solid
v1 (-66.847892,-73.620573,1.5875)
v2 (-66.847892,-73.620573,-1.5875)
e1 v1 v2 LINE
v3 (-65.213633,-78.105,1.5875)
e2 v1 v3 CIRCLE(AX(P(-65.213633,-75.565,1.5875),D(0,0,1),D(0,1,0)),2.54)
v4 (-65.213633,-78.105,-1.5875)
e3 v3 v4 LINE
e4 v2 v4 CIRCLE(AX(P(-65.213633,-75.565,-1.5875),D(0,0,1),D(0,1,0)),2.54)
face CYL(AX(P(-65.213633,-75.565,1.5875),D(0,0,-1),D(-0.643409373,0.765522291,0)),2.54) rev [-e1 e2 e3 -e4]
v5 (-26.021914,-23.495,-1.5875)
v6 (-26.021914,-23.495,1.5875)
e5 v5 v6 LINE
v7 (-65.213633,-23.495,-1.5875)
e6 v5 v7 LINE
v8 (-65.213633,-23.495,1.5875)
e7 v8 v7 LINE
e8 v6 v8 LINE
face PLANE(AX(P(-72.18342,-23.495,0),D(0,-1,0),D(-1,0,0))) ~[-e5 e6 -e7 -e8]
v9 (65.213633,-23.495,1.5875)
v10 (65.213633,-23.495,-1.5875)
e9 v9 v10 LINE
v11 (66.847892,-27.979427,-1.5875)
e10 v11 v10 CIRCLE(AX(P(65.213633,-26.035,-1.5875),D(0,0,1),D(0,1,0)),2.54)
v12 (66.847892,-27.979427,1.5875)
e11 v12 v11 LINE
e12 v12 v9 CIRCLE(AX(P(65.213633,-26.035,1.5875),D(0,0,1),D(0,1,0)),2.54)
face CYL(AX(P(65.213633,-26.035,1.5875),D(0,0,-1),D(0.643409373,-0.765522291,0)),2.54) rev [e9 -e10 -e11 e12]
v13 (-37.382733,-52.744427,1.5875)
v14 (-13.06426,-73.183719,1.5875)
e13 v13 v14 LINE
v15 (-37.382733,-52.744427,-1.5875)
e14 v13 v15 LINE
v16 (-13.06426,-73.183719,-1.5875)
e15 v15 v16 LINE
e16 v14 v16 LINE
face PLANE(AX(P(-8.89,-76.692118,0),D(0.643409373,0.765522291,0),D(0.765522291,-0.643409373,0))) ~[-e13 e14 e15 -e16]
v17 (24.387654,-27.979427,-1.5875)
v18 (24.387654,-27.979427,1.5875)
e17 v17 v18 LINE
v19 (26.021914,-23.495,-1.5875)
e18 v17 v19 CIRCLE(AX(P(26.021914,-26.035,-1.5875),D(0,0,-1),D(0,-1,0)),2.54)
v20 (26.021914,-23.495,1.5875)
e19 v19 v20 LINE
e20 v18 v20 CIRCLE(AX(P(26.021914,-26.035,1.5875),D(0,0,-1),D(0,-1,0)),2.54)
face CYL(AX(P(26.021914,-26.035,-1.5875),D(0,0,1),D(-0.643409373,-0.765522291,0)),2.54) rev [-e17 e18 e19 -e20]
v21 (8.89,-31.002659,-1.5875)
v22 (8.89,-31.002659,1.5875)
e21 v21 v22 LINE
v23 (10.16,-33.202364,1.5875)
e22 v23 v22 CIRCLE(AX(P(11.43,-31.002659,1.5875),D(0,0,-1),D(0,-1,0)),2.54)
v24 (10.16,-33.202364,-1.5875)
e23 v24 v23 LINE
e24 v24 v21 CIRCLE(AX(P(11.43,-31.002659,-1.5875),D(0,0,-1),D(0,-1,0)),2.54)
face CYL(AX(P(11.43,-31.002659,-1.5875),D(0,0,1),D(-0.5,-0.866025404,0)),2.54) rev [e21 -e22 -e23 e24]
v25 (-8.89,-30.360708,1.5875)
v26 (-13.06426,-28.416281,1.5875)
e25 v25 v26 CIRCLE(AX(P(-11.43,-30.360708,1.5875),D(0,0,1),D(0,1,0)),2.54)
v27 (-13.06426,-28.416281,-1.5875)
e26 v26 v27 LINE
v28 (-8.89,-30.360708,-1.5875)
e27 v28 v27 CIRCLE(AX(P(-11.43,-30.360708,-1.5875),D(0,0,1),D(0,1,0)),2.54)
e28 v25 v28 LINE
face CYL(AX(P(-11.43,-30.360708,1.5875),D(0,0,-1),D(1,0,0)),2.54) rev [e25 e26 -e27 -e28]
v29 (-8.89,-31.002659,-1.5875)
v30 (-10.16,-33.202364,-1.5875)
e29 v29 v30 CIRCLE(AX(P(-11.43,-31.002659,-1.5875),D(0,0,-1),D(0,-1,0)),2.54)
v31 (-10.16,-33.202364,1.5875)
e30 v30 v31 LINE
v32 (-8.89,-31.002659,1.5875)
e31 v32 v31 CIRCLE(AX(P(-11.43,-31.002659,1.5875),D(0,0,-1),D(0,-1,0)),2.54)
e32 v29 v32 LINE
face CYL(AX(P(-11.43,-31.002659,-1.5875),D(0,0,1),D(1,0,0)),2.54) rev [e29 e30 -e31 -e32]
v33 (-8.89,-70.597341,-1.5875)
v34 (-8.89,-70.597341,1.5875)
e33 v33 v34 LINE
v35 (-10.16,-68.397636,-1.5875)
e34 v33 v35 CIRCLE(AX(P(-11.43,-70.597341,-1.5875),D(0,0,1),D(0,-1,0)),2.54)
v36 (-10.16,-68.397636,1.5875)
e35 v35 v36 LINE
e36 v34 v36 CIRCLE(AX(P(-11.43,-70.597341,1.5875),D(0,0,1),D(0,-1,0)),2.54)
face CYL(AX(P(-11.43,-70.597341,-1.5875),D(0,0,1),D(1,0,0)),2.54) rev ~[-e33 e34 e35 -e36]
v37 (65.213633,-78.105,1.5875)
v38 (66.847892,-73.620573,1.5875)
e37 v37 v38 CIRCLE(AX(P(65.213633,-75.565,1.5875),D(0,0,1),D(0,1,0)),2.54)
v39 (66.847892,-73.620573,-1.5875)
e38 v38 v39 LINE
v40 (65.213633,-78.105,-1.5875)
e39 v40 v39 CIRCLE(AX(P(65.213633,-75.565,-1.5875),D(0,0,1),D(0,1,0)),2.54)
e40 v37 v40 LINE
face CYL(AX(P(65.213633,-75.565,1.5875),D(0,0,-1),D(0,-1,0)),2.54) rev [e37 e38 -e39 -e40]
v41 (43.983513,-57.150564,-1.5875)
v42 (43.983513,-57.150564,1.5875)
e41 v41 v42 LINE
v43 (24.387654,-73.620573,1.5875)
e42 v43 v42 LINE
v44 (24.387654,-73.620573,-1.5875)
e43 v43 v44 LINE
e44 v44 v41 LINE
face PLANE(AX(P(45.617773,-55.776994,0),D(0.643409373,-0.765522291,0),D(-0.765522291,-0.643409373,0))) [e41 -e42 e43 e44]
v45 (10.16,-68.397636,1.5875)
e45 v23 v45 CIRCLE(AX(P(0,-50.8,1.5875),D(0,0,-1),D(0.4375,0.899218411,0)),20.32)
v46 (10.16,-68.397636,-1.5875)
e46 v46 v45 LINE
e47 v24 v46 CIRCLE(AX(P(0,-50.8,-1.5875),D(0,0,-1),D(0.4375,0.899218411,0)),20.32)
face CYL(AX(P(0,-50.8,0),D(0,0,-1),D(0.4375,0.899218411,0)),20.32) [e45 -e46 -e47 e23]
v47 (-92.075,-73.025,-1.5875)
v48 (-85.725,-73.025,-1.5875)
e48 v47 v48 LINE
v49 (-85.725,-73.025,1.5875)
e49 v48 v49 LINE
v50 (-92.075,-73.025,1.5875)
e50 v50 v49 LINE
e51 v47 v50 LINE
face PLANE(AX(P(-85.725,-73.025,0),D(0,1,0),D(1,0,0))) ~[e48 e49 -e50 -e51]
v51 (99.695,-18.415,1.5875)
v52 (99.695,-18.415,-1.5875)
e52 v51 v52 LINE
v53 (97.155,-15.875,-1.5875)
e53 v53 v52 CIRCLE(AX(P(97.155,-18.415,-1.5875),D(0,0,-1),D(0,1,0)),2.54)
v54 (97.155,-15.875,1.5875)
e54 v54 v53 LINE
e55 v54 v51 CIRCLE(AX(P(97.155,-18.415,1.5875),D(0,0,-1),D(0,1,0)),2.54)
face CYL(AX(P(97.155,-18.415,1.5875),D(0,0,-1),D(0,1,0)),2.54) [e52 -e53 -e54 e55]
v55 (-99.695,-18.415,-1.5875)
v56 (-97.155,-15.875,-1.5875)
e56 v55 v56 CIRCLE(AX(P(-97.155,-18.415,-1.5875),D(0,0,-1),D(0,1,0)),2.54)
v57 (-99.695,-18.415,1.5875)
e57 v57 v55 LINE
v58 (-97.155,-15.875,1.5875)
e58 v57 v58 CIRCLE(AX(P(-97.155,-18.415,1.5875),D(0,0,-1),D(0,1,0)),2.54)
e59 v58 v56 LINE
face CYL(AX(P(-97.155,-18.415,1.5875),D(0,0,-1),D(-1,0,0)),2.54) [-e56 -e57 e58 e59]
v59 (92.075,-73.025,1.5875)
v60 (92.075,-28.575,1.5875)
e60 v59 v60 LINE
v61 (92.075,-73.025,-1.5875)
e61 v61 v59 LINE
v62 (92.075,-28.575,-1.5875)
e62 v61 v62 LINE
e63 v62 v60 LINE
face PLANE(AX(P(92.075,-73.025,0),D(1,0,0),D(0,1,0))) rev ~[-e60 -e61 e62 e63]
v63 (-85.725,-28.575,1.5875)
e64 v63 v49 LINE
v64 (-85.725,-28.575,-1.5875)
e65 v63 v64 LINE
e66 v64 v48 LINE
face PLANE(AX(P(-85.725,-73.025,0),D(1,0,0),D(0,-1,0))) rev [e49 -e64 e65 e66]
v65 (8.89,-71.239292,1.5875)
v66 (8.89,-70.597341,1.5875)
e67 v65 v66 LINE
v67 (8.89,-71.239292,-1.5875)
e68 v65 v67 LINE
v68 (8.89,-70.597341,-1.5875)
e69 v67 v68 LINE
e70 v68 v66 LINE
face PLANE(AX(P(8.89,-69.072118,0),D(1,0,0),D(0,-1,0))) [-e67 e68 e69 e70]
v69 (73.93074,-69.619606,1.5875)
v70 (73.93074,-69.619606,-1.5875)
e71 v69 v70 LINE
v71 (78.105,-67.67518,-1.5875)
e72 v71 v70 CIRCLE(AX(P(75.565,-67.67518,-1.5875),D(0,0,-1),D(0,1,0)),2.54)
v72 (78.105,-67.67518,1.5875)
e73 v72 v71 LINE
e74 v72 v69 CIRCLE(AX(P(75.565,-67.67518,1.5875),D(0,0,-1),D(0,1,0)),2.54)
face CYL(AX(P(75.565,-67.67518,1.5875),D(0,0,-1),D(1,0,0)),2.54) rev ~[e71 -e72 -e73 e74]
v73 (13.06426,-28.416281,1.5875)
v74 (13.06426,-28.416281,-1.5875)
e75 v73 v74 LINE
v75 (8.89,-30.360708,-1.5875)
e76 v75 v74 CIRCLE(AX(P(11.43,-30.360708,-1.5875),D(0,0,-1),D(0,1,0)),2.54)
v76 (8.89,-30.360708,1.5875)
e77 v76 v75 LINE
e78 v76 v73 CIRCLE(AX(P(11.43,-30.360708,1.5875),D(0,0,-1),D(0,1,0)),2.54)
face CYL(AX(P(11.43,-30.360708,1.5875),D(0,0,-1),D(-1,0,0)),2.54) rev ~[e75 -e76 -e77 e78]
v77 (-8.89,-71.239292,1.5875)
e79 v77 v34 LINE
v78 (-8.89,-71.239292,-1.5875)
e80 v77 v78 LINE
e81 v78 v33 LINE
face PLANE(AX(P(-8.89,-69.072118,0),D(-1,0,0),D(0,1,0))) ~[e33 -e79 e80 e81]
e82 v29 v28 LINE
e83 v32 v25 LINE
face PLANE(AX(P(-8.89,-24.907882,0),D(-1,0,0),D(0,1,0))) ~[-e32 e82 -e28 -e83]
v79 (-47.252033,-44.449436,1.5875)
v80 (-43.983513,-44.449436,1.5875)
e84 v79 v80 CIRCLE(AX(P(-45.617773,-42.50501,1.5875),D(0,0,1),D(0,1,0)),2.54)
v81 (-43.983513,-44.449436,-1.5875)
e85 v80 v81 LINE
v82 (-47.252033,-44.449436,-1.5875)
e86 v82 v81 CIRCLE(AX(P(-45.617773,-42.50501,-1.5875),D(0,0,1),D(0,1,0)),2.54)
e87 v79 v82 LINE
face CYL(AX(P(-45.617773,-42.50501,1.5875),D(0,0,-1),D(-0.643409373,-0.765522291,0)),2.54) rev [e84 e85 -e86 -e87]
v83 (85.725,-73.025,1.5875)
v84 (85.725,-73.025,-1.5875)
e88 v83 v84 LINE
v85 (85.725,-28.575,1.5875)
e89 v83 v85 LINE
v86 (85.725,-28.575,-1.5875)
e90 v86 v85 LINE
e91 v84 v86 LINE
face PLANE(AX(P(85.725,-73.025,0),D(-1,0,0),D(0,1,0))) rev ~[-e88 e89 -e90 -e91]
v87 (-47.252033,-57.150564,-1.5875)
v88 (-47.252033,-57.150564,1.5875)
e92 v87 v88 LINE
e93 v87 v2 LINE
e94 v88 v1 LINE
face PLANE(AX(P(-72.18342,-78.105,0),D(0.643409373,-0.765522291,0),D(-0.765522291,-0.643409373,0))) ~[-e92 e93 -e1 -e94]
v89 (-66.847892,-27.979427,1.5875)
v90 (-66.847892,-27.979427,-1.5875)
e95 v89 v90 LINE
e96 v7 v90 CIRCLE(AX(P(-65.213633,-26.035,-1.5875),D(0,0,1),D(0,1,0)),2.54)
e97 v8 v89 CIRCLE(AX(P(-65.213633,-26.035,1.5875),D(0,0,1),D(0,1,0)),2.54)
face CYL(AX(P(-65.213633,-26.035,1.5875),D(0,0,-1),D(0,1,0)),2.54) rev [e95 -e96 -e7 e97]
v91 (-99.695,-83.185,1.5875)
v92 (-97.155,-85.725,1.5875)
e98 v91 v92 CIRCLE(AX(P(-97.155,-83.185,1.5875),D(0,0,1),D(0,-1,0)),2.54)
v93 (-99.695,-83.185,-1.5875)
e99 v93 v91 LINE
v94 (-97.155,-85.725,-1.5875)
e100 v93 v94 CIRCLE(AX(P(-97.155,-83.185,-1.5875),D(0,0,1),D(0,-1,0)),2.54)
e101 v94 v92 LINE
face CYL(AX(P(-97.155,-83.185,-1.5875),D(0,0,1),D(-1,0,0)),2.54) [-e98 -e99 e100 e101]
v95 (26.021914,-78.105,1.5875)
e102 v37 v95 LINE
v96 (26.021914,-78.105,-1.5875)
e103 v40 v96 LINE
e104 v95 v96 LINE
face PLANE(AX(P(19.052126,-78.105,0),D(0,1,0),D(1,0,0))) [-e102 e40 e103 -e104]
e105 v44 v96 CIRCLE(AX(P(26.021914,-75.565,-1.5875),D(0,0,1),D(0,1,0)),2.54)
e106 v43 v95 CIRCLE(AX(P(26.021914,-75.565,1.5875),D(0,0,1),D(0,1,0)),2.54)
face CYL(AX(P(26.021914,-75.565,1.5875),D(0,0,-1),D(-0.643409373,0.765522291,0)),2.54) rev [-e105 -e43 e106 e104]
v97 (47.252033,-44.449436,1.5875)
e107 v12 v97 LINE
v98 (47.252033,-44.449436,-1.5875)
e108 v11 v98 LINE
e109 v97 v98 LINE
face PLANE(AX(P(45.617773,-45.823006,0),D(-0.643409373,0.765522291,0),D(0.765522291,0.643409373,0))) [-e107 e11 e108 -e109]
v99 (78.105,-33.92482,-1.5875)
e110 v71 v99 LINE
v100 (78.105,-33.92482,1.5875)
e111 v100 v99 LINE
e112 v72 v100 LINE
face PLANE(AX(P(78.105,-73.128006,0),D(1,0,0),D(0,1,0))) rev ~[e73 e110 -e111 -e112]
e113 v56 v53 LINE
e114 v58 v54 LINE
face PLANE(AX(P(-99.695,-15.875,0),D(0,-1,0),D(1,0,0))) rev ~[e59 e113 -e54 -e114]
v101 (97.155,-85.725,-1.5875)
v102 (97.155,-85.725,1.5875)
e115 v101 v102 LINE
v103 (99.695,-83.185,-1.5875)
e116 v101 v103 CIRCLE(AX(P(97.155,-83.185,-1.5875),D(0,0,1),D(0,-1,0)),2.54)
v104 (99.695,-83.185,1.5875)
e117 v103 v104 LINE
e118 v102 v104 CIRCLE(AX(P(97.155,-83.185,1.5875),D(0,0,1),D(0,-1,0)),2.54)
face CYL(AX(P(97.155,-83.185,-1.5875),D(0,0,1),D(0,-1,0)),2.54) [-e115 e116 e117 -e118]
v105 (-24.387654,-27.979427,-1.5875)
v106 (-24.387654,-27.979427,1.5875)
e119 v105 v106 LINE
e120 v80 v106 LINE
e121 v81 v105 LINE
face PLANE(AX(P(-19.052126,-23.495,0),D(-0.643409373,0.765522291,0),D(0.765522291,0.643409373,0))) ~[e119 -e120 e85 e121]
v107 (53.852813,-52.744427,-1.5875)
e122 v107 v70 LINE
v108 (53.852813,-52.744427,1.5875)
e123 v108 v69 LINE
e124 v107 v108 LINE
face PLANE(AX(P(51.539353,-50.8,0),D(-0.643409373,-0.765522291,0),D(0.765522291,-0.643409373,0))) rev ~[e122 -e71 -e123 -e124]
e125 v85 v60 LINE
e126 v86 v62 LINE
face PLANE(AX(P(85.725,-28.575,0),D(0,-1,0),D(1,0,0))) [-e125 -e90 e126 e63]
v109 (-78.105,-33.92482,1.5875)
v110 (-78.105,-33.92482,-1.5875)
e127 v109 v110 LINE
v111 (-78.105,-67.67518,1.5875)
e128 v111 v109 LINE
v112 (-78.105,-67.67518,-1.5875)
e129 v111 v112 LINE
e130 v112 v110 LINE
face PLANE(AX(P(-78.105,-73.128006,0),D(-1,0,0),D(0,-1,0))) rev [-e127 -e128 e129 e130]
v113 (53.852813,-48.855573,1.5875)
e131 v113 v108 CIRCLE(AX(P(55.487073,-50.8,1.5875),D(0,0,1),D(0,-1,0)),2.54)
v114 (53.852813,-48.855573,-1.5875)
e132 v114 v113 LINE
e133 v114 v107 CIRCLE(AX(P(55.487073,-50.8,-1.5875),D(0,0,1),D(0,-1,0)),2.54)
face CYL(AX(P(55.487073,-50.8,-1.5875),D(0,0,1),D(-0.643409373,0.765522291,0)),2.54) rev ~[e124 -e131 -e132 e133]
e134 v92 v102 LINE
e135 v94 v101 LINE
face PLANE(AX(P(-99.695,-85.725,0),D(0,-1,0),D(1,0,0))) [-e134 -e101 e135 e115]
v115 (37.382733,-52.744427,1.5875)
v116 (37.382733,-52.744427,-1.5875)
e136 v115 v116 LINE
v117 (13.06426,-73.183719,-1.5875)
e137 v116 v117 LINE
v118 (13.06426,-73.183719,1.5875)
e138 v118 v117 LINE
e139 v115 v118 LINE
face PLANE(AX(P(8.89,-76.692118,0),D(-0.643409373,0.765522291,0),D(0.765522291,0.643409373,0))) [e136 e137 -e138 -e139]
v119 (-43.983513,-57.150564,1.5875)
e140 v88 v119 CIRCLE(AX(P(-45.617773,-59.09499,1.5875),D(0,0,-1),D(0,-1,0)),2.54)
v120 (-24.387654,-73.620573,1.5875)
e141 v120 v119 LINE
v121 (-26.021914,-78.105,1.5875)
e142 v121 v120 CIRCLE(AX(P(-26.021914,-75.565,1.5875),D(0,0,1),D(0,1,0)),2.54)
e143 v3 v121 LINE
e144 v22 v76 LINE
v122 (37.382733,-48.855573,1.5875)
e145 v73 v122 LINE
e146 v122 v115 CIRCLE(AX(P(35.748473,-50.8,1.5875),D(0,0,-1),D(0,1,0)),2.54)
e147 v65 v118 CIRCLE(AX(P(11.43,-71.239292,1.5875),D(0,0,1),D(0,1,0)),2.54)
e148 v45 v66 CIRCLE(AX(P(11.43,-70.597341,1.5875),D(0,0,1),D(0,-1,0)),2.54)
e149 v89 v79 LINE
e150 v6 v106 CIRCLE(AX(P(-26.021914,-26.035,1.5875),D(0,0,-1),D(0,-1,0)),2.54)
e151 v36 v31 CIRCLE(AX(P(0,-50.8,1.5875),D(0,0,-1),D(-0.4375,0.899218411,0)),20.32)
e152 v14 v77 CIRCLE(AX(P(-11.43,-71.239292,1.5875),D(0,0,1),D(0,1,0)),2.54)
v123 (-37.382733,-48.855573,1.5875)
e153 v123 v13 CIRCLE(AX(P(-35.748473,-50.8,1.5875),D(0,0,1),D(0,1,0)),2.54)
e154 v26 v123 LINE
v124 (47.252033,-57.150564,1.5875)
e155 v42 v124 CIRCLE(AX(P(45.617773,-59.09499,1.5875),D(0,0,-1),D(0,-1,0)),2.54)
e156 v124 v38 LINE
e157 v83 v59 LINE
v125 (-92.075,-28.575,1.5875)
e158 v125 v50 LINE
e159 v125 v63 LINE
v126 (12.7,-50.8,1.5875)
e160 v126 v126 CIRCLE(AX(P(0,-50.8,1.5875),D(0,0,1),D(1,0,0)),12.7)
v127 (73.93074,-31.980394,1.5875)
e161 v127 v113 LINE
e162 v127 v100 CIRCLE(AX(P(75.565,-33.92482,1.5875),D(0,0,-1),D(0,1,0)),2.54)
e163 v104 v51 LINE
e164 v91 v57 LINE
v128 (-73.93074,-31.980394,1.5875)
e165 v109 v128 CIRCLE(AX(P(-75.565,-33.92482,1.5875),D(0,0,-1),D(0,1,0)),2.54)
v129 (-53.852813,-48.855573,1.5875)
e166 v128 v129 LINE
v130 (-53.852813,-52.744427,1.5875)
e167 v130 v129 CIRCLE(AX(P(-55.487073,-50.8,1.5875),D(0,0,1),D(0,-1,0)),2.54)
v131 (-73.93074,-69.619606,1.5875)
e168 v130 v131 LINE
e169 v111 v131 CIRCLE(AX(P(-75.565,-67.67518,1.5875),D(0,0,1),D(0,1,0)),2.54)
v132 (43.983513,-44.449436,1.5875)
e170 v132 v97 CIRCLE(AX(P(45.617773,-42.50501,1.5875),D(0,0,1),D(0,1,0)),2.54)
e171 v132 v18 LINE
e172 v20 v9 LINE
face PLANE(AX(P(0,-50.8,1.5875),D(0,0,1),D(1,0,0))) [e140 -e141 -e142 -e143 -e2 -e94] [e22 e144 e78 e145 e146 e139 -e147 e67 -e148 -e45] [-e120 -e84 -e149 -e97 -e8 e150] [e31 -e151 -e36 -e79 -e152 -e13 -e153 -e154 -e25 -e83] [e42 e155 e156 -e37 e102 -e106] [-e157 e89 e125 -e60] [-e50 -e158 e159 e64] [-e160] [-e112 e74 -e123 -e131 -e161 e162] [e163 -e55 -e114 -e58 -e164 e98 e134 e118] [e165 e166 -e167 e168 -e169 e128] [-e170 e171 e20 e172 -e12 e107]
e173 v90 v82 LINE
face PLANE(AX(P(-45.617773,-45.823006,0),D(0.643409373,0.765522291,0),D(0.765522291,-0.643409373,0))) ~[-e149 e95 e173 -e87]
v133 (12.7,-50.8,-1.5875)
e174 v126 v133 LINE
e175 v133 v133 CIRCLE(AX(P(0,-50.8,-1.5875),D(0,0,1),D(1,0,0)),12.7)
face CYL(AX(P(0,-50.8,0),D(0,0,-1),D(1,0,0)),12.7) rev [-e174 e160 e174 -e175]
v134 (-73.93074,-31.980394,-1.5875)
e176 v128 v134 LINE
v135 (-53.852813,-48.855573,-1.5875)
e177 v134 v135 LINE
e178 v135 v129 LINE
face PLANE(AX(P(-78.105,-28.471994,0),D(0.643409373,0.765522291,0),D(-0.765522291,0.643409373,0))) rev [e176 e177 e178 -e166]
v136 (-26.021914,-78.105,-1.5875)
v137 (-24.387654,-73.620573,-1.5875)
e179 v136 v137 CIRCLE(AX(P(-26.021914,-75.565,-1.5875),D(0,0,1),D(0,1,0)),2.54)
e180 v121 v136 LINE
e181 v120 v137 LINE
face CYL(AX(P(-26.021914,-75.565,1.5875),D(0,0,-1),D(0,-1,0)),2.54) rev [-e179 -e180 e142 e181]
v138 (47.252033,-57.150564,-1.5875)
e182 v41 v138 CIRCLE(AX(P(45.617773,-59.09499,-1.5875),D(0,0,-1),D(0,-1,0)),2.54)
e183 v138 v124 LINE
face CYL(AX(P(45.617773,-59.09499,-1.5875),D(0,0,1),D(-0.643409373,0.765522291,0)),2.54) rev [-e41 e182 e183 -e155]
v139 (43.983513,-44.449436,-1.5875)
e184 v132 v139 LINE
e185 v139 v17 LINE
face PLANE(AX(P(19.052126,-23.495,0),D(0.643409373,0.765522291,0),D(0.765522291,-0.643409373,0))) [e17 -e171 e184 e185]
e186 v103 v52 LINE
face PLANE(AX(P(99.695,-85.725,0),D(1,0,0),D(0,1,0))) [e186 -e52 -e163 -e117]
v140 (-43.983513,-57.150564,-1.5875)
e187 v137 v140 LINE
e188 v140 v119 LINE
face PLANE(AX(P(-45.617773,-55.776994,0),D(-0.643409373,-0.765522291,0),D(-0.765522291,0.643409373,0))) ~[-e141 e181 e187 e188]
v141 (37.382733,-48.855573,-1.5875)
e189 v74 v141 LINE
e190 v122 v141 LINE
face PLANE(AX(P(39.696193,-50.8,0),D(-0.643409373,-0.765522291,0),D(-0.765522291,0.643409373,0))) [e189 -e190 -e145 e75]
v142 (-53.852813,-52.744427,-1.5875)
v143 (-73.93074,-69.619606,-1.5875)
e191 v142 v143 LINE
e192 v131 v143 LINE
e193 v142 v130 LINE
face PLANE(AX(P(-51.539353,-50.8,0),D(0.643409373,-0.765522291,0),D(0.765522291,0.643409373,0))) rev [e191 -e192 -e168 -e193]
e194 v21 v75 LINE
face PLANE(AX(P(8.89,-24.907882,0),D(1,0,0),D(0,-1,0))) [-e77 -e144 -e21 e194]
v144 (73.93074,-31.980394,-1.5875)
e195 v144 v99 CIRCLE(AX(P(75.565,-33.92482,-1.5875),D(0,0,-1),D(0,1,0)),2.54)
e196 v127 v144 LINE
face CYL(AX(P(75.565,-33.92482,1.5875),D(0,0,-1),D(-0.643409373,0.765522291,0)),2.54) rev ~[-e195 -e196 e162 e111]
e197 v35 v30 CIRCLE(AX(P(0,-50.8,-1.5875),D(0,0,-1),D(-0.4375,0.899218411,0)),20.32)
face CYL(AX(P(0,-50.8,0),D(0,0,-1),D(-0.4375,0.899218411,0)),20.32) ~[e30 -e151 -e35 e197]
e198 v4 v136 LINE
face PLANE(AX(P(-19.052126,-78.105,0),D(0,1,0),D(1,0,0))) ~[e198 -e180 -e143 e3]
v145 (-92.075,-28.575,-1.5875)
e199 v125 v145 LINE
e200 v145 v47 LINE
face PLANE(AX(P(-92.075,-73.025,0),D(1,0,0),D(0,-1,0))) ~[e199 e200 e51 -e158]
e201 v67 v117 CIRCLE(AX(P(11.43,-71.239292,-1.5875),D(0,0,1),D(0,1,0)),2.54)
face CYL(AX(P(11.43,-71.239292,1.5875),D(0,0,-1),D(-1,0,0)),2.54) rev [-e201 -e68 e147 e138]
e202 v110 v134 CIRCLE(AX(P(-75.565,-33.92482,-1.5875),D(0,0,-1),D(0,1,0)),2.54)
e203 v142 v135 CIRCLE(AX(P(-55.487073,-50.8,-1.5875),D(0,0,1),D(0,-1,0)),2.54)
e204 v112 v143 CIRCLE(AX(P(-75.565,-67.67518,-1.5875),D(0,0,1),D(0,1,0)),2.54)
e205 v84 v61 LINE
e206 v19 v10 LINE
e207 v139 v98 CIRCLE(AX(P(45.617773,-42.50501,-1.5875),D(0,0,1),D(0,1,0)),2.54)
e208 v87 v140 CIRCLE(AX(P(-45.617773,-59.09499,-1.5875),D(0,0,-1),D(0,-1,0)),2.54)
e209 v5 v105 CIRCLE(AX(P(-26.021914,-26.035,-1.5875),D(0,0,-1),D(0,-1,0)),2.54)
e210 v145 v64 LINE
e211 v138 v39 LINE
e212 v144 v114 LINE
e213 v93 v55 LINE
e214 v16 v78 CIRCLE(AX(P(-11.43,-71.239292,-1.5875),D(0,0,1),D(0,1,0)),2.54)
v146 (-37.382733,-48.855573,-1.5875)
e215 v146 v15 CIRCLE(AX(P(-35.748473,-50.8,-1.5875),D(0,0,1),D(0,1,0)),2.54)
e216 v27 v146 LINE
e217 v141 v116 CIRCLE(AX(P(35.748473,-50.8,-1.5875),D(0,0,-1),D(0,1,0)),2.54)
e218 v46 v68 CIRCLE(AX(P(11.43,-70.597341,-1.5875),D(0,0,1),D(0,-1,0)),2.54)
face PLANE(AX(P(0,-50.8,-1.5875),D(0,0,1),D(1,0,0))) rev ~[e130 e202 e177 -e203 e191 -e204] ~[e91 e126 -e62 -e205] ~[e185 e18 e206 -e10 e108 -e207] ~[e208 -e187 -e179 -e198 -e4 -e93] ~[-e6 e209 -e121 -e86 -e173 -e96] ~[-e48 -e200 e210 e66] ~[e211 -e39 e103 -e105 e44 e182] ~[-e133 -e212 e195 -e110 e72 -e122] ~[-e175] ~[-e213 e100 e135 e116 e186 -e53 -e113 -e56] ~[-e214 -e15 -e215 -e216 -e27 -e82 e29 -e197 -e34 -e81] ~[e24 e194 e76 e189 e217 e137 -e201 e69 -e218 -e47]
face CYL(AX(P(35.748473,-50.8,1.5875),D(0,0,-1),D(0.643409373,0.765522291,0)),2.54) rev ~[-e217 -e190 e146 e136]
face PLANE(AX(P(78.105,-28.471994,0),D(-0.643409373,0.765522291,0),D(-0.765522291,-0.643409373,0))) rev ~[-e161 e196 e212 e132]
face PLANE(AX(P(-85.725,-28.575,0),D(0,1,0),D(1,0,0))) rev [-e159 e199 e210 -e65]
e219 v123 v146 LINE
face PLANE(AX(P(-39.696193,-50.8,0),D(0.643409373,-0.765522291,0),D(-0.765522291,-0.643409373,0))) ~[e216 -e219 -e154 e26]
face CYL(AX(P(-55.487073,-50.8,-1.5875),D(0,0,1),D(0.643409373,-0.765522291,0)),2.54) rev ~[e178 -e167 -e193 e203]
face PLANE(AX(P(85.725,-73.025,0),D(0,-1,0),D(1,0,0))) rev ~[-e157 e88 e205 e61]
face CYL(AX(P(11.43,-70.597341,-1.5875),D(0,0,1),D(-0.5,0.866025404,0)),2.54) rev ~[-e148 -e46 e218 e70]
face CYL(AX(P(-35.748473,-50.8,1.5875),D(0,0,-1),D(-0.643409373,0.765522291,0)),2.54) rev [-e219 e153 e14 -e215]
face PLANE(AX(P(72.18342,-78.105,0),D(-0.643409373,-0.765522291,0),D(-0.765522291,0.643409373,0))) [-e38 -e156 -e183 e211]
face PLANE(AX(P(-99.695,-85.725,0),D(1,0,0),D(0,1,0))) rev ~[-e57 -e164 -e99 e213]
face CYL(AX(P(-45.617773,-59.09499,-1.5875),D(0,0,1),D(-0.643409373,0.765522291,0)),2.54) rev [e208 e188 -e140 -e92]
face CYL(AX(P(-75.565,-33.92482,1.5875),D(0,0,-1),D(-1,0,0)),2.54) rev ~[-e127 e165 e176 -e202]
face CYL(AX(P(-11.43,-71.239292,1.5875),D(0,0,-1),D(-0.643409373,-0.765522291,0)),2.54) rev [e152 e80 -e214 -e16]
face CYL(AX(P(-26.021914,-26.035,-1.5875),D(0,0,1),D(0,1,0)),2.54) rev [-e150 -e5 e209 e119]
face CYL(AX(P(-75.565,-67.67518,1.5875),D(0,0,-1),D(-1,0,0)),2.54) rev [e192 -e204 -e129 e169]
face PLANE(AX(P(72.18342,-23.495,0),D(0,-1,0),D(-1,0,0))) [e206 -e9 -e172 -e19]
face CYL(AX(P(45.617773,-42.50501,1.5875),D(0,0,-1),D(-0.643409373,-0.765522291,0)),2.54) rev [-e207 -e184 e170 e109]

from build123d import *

# Parameters (mm, degrees)
SKETCH1_W           = 199.39
SKETCH1_H           = 69.85
SKETCH1_R           = 12.7
SKETCH1_W_2         = 6.35
SKETCH1_H_2         = 44.45
BOSS_EXTRUDE1_DEPTH = 1.5875
SKETCH1_3_W         = 6.35
SKETCH1_3_H         = 44.45
CUT_EXTRUDE1_DEPTH  = 3.175
FILLET1_R           = 2.54


with BuildPart() as part:
    # Sketch1 → Boss-Extrude1 (new, symmetric)
    with BuildSketch(Plane.XY):
        with Locations((0, -50.8)):
            Rectangle(SKETCH1_W, SKETCH1_H)
        with Locations((0, -50.8)):
            Circle(SKETCH1_R, mode=Mode.SUBTRACT)
        with Locations((88.9, -50.8)):
            Rectangle(SKETCH1_W_2, SKETCH1_H_2, mode=Mode.SUBTRACT)
    extrude(amount=BOSS_EXTRUDE1_DEPTH, both=True)

    # Sketch1<3> → Cut-Extrude1 (cut, symmetric)
    with BuildSketch(Plane.XY):
        with Locations((88.9, -50.8)):
            Rectangle(SKETCH1_3_W, SKETCH1_3_H)
        with BuildLine():
            Line((8.89, -24.907881896), (8.89, -32.527881896))
            ThreePointArc((8.89, -32.527881896), (20.32, -50.8), (8.89, -69.072118104))
            Line((8.89, -69.072118104), (8.89, -76.692118104))
            Line((8.89, -76.692118104), (39.696193404, -50.8))
            Line((39.696193404, -50.8), (8.89, -24.907881896))
        make_face()
        Polygon((72.183420116, -23.495), (19.052126459, -23.495), (45.617773288, -45.823005806), align=None)
        Polygon((72.183420116, -78.105), (45.617773288, -55.776994194), (19.052126459, -78.105), align=None)
        Polygon((78.105, -28.471994194), (51.539353171, -50.8), (78.105, -73.128005806), align=None)
    cut_extrude1 = extrude(amount=CUT_EXTRUDE1_DEPTH, both=True, mode=Mode.SUBTRACT)

    # Mirror1: Cut-Extrude1 across plane
    add(cut_extrude1.mirror(Plane(origin=(0, 0, 0), x_dir=(0, 0, 1), z_dir=(1, 0, 0))), mode=Mode.SUBTRACT)

    # Fillet1
    fillet1_edges = [part.edges().sort_by_distance(p)[0] for p in [
        (51.539353171, -50.8, 0),
        (78.105, -28.471994194, 0),
        (78.105, -73.128005806, 0),
        (39.696193404, -50.8, 0),
        (72.183420116, -78.105, 0),
        (19.052126459, -78.105, 0),
        (45.617773288, -55.776994194, 0),
        (19.052126459, -23.495, 0),
        (72.183420116, -23.495, 0),
        (45.617773288, -45.823005806, 0),
        (99.695, -85.725, 0),
        (99.695, -15.875, 0),
        (-99.695, -85.725, 0),
        (-99.695, -15.875, 0),
        (-78.105, -28.471994194, 0),
        (-51.539353171, -50.8, 0),
        (-78.105, -73.128005806, 0),
        (-39.696193404, -50.8, 0),
        (-72.183420116, -78.105, 0),
        (-45.617773288, -55.776994194, 0),
        (-19.052126459, -78.105, 0),
        (-72.183420116, -23.495, 0),
        (-45.617773288, -45.823005806, 0),
        (-19.052126459, -23.495, 0),
        (-8.89, -32.527881896, 0),
        (-8.89, -76.692118104, 0),
        (-8.89, -24.907881896, 0),
        (-8.89, -69.072118104, 0),
        (8.89, -76.692118104, 0),
        (8.89, -69.072118104, 0),
        (8.89, -32.527881896, 0),
        (8.89, -24.907881896, 0),
    ]]
    fillet(fillet1_edges, radius=FILLET1_R)


solid = part.part
